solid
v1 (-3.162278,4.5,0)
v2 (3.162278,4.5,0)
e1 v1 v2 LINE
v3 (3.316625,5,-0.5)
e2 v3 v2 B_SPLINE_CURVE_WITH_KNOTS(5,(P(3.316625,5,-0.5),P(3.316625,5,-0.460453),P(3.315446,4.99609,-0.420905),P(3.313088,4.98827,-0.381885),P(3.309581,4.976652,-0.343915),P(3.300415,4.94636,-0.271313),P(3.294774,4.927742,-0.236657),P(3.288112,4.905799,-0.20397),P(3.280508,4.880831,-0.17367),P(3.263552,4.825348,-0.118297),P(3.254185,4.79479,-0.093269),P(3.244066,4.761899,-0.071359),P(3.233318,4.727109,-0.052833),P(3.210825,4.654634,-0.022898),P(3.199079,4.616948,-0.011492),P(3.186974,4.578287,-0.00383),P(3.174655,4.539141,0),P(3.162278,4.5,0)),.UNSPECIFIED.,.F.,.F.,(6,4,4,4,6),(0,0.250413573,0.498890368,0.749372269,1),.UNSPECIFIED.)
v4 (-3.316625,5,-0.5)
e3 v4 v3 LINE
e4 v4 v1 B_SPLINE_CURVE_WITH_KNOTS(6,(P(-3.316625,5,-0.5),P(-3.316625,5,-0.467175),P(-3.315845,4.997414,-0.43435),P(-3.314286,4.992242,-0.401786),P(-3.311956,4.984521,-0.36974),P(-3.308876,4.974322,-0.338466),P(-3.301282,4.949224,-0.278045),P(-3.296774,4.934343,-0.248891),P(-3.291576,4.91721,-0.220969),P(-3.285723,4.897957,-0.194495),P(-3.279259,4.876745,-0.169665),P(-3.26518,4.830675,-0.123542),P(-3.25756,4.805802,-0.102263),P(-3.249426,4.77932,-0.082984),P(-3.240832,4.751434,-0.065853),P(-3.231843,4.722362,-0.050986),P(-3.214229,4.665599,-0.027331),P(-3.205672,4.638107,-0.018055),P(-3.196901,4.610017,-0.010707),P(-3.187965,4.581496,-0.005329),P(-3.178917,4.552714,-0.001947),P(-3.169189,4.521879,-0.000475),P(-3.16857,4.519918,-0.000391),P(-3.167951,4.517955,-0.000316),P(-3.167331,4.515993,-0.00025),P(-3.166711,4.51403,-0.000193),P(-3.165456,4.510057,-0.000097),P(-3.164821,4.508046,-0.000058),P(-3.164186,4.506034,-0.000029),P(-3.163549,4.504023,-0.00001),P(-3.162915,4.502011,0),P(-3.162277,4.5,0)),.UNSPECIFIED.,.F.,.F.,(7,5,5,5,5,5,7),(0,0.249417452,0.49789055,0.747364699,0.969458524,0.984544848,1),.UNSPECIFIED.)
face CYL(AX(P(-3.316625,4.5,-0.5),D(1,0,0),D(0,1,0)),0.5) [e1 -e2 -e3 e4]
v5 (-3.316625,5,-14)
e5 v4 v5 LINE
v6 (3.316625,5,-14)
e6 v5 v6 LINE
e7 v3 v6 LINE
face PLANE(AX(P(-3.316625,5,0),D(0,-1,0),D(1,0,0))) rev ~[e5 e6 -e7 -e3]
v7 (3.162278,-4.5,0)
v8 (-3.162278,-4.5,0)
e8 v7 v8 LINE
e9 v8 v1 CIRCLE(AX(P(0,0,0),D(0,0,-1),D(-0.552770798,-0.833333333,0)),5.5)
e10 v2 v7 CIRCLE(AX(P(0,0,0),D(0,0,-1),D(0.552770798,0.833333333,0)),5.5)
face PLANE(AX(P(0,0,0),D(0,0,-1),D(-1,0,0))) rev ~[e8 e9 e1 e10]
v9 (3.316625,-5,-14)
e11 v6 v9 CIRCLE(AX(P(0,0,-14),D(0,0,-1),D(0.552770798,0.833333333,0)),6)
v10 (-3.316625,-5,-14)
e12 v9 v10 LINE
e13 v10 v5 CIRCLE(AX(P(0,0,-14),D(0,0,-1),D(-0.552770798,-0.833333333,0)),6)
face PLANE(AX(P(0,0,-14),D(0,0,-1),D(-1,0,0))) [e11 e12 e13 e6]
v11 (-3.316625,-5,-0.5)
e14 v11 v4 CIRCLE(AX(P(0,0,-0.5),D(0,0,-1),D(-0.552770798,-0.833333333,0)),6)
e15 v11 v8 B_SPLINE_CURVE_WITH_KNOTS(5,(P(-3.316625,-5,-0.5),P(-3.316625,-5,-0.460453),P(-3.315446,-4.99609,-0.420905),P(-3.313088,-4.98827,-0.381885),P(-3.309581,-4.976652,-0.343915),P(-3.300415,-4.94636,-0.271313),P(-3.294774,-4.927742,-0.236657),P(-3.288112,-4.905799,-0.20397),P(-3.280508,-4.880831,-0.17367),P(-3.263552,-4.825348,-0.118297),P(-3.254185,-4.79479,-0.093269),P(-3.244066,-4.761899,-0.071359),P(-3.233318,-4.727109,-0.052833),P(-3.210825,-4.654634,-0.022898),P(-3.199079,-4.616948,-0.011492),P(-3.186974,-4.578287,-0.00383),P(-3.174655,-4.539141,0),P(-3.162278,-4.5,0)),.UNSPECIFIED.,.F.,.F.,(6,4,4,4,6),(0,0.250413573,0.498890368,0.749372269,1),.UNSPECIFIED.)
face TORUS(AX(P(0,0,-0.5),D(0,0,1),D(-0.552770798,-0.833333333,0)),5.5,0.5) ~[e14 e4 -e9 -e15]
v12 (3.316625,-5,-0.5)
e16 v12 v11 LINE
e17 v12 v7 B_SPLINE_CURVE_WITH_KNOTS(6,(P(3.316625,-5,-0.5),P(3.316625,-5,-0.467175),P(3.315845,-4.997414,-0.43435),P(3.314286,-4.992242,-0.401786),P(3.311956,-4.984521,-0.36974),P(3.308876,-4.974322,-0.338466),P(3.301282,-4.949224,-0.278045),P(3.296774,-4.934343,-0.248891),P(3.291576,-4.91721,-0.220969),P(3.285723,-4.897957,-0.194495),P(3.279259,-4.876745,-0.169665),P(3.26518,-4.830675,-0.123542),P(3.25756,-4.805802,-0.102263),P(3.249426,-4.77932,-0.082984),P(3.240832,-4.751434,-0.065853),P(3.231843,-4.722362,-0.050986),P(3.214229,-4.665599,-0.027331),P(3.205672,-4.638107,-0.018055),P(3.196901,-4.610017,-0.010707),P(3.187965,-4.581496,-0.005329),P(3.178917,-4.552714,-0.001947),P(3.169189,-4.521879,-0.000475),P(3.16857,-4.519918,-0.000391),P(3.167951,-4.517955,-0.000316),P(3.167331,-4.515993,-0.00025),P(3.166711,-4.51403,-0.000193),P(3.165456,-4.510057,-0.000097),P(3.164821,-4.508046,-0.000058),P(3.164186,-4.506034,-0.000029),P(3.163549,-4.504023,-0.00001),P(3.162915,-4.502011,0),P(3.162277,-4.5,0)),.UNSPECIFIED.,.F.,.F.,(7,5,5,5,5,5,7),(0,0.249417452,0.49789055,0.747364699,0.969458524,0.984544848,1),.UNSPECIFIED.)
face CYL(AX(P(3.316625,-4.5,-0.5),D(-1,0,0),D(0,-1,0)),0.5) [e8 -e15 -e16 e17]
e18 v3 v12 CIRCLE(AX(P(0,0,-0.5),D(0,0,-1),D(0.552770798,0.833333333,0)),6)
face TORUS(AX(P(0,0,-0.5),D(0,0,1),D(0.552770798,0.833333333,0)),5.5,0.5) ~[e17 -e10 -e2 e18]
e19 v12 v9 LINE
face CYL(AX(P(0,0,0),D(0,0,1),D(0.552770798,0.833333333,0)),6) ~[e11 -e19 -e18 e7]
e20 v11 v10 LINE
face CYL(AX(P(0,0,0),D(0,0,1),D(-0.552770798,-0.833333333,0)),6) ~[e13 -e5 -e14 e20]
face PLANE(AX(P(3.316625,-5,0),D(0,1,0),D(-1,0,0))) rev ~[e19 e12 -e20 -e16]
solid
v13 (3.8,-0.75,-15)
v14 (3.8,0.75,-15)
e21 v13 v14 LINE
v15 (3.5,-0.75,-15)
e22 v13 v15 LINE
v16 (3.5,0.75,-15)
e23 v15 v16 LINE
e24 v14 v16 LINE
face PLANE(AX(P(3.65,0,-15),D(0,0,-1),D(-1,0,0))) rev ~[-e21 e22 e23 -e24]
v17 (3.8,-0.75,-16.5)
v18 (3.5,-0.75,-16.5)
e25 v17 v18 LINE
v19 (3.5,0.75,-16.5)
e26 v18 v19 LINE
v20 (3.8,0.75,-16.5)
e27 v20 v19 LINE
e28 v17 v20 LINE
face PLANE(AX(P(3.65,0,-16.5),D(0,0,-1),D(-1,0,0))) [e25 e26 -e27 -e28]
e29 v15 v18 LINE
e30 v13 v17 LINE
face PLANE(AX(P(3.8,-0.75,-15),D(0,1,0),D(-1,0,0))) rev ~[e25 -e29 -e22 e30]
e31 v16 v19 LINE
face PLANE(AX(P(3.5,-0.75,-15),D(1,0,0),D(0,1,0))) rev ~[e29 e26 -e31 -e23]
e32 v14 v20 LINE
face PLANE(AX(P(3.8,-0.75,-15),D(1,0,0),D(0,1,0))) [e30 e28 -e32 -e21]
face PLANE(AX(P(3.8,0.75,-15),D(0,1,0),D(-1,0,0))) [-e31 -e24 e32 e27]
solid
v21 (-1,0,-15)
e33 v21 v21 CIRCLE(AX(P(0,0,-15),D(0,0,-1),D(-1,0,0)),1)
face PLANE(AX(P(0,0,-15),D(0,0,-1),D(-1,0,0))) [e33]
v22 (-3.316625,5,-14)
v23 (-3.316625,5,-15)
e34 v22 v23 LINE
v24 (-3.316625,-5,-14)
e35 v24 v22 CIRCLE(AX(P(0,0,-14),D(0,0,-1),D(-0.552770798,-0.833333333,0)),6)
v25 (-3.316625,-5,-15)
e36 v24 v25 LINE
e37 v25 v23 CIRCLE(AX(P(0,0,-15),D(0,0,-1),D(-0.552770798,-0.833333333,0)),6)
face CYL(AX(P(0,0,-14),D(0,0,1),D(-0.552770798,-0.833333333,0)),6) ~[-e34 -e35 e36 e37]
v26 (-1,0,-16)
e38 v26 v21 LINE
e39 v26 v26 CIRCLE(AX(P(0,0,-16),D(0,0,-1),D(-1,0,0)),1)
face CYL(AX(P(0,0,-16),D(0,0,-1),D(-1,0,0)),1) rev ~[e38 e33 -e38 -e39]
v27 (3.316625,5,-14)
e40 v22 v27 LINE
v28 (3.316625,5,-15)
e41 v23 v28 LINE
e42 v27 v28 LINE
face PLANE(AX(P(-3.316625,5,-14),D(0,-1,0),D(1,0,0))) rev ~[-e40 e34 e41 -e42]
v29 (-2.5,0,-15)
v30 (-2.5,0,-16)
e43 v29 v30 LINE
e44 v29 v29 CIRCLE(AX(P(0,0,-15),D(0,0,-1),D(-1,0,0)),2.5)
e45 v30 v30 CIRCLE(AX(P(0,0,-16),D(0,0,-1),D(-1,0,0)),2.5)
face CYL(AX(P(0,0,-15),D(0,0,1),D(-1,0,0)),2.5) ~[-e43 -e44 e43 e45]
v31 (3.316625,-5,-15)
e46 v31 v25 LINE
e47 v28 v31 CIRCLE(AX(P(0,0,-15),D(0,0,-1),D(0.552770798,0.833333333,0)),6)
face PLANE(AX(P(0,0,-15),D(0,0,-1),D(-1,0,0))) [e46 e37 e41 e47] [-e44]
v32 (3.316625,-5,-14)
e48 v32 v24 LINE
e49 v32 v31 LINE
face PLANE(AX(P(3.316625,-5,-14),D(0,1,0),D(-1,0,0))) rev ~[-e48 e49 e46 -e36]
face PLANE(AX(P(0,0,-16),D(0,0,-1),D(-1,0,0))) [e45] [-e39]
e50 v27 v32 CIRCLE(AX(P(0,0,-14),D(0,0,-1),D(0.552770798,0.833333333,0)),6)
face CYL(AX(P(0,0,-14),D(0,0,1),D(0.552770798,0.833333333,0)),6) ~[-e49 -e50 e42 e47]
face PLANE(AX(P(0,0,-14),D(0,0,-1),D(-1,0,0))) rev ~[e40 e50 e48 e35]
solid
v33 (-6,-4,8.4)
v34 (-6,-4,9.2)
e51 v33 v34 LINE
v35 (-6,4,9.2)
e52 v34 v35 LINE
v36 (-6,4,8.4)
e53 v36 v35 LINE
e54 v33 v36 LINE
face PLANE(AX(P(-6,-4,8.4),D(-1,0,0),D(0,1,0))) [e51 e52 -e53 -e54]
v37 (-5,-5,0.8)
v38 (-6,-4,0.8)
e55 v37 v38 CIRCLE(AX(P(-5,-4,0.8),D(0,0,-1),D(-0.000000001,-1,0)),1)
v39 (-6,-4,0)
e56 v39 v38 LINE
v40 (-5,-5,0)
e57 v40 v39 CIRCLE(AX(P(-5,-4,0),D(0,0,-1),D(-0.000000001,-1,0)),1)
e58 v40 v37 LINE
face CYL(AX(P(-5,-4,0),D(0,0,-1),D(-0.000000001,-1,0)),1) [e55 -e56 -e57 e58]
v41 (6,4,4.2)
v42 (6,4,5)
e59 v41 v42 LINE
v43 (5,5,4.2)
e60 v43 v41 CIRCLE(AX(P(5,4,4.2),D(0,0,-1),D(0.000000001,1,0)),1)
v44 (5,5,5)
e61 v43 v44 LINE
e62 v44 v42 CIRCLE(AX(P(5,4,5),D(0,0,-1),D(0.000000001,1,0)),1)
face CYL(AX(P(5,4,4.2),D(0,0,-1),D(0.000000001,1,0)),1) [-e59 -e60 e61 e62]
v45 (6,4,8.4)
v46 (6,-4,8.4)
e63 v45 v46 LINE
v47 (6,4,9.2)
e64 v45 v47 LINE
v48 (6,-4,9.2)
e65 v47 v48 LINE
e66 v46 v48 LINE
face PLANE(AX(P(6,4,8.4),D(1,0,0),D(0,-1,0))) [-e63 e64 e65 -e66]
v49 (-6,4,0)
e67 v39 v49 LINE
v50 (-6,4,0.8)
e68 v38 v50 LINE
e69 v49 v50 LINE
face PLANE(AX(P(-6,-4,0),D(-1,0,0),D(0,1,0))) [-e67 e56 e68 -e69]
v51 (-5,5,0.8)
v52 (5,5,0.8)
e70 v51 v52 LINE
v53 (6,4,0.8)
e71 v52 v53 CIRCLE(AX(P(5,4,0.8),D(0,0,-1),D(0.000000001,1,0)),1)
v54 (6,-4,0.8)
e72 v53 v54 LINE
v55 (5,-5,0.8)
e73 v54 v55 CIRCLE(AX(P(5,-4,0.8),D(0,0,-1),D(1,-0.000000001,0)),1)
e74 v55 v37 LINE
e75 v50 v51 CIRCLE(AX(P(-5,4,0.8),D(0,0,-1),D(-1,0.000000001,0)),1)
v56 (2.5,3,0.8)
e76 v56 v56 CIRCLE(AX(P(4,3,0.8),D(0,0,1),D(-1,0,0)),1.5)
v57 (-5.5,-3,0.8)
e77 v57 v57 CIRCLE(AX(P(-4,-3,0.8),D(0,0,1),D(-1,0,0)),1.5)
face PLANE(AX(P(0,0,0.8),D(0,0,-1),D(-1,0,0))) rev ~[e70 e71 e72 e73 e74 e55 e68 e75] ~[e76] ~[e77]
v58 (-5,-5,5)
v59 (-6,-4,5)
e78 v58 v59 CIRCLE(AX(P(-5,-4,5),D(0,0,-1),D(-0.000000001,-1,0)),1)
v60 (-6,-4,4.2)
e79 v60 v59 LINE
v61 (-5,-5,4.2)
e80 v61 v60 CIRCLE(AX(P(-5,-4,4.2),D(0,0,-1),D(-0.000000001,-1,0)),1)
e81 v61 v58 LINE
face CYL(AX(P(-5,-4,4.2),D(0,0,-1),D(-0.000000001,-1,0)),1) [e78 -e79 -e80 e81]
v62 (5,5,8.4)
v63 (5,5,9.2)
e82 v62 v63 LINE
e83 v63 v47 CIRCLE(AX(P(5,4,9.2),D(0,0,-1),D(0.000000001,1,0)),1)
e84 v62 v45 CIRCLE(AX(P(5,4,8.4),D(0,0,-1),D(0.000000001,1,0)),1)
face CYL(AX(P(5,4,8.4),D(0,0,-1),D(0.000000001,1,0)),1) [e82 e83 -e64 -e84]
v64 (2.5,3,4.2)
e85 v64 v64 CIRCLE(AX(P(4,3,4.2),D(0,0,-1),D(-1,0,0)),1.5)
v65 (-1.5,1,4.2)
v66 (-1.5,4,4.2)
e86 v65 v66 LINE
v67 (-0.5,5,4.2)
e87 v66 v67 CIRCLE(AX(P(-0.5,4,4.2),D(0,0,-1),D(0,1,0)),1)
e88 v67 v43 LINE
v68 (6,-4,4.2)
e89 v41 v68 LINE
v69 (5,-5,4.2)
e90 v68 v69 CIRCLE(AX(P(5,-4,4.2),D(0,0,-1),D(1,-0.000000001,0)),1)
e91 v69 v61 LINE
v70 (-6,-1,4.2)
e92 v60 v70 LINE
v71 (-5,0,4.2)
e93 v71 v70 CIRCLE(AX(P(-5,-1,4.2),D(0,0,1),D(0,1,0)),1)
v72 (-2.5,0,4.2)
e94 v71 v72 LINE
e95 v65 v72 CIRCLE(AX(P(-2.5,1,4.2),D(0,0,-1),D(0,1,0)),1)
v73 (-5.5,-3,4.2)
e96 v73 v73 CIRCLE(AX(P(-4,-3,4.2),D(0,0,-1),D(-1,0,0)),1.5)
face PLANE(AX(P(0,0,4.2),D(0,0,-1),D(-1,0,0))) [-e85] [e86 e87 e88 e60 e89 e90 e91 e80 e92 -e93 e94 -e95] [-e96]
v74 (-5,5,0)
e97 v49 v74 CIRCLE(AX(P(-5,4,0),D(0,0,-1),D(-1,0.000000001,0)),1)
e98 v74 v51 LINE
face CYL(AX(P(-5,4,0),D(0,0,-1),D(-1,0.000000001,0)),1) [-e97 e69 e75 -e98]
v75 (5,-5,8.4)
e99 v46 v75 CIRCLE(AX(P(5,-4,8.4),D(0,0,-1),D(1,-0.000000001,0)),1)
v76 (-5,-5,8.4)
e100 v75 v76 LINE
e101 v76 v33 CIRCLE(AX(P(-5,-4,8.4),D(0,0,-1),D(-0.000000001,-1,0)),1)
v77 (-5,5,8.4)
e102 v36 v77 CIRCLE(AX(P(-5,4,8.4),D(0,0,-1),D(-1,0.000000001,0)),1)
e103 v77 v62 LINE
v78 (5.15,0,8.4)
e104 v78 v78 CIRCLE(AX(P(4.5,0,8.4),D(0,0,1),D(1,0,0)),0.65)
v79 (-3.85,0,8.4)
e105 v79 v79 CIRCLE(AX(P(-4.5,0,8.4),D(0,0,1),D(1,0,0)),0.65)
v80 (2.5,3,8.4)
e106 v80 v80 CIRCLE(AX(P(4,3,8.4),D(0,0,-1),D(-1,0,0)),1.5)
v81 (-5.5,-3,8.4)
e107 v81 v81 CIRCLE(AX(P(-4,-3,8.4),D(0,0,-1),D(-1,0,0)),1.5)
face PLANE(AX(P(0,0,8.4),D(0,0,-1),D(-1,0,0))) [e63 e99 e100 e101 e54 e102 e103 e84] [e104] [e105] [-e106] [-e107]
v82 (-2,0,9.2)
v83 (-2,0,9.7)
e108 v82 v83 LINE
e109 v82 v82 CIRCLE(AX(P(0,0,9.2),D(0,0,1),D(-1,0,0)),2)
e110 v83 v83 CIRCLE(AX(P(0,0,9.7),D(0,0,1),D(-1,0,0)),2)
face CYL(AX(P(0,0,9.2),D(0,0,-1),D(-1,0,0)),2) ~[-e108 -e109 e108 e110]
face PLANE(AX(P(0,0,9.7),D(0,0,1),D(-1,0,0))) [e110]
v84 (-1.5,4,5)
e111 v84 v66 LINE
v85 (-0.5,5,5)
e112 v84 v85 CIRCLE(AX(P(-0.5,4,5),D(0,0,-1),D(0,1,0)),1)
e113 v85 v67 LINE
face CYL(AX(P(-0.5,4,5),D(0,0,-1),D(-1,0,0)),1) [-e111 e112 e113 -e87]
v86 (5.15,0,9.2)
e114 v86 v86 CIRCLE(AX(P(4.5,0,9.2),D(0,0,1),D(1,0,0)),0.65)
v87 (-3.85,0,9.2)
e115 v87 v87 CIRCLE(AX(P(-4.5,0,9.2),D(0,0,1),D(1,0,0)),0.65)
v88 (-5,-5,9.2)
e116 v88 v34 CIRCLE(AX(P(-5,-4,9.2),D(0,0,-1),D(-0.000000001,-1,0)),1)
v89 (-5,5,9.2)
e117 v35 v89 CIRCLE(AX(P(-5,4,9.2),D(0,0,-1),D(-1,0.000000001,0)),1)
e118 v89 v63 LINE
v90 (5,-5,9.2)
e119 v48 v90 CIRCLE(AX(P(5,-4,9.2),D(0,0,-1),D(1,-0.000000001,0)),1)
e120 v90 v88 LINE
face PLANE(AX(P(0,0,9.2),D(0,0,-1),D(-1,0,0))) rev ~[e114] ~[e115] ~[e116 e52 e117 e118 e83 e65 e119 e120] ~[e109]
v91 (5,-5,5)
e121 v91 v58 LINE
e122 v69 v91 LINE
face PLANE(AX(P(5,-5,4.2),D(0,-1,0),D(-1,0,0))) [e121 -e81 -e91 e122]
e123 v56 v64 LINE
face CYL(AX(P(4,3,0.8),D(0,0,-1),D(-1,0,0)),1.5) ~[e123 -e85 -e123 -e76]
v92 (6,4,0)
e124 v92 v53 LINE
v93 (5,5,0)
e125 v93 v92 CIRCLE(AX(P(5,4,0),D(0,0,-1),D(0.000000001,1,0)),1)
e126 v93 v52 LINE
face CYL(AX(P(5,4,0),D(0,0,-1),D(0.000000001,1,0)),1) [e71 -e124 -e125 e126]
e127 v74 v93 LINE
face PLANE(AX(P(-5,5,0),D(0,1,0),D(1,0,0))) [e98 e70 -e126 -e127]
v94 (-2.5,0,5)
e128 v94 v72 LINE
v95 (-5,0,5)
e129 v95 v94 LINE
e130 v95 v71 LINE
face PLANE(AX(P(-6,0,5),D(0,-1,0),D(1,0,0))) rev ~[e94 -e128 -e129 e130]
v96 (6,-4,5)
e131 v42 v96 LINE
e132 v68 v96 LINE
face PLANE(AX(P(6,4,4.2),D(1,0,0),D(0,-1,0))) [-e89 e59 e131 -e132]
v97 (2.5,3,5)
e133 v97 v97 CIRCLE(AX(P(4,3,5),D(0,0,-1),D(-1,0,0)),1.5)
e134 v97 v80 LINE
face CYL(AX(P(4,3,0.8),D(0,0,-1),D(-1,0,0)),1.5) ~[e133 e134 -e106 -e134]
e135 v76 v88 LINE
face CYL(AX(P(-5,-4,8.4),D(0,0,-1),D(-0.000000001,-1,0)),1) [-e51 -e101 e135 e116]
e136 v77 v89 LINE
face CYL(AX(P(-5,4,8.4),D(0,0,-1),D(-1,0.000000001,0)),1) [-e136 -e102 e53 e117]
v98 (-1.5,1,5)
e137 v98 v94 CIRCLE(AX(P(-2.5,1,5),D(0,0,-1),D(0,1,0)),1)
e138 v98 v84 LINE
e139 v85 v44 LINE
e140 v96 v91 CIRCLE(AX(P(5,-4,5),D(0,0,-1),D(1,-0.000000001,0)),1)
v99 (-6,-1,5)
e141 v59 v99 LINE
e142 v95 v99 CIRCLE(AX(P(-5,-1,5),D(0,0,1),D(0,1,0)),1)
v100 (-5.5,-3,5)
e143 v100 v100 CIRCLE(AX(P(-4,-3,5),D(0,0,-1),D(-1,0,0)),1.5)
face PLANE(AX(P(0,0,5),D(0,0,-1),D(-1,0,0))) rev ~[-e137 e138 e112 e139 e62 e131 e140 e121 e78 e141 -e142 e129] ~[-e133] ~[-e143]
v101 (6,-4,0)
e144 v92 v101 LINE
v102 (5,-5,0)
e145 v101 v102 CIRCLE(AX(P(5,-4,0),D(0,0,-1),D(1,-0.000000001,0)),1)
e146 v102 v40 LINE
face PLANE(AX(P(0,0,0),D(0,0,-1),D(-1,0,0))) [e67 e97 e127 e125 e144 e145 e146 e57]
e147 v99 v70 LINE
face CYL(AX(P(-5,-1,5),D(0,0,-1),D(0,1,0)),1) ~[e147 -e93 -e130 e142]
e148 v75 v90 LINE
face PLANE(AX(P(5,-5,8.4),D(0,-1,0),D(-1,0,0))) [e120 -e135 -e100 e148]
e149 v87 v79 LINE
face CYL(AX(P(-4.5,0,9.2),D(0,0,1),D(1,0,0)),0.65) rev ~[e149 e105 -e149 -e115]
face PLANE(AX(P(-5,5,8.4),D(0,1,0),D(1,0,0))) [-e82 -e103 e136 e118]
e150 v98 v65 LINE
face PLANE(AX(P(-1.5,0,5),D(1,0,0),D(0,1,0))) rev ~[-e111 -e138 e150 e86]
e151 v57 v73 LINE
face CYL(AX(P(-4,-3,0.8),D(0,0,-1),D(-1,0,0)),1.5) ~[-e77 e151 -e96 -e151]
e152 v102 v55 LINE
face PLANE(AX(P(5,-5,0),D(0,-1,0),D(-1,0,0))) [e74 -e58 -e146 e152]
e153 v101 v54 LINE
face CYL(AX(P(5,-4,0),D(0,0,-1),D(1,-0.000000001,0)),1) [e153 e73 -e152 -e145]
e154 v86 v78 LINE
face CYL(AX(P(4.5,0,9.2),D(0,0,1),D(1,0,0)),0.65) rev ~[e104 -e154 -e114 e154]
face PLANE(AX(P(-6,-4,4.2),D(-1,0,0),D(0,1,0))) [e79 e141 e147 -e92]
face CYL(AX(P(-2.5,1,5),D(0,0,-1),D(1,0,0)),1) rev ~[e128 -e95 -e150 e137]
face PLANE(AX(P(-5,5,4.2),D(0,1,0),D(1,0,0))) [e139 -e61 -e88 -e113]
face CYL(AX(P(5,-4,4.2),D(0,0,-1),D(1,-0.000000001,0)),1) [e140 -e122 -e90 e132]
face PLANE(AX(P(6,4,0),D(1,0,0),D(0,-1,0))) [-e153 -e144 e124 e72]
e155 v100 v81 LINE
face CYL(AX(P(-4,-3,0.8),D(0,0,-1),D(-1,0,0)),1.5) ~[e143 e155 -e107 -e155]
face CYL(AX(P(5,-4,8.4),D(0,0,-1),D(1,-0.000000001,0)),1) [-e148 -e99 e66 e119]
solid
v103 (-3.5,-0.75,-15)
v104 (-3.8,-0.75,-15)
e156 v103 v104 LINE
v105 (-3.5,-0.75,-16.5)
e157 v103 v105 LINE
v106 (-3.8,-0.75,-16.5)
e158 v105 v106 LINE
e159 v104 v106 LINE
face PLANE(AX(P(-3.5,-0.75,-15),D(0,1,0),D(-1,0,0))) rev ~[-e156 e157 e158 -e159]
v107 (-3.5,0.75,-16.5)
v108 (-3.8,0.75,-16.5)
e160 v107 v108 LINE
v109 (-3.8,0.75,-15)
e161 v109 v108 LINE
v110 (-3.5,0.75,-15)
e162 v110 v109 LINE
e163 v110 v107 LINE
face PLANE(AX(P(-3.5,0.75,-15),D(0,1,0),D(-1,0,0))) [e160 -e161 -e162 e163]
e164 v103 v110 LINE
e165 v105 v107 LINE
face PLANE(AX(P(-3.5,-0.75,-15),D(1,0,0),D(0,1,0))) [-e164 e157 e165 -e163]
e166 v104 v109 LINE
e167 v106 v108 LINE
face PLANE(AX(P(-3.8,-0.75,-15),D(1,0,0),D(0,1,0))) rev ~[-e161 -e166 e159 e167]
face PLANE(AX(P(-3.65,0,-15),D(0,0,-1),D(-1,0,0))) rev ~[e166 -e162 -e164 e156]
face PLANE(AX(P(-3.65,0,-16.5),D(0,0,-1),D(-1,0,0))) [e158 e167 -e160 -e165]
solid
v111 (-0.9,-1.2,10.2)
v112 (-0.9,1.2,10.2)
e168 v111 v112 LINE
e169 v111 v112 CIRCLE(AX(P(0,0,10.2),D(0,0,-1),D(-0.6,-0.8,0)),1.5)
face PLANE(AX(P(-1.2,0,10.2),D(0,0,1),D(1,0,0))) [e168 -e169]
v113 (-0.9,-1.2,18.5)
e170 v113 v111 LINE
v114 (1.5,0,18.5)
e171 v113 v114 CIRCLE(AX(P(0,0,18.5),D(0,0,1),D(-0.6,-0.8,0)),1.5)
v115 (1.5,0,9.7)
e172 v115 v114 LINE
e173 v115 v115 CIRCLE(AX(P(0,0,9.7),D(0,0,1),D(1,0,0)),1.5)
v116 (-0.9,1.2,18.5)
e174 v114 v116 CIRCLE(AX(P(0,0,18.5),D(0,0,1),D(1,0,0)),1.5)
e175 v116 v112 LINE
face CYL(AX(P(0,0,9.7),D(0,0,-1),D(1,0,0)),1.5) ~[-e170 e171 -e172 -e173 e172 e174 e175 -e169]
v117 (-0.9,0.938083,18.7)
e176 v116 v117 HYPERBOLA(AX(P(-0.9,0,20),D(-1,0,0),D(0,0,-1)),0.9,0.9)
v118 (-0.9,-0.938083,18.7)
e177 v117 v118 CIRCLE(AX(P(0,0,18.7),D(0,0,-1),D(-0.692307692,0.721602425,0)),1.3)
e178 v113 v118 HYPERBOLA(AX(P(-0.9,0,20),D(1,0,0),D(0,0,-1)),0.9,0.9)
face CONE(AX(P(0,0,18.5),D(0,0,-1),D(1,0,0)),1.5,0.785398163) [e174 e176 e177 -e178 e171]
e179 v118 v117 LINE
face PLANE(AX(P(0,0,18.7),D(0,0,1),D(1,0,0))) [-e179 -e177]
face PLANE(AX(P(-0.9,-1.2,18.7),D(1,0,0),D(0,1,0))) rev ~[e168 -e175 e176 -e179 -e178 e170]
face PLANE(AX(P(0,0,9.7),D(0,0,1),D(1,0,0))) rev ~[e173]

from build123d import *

# Parameters (mm, degrees)
BOSS_EXTRUDE1_DEPTH   = 14
BOSS_EXTRUDE2_DEPTH   = 1
SKETCH3_R             = 2.5
BOSS_EXTRUDE3_DEPTH   = 1
FILLET1_R             = 0.5
SKETCH4_W             = 0.3
SKETCH4_H             = 1.5
BOSS_EXTRUDE4_DEPTH   = 1.5
BOSS_EXTRUDE4_2_DEPTH = 1.5
SKETCH5_R             = 1
CUT_EXTRUDE1_DEPTH    = 1
BOSS_EXTRUDE5_DEPTH   = 0.8
LPATTERN1_COUNT       = 2
LPATTERN1_PITCH       = 4.2
LPATTERN2_COUNT       = 2
LPATTERN2_PITCH       = 8.4
BOSS_EXTRUDE6_REACH   = 20.981
SKETCH7_R             = 1.5
SKETCH8_R             = 2
BOSS_EXTRUDE7_DEPTH   = 0.5
SKETCH9_R             = 1.5
BOSS_EXTRUDE8_DEPTH   = 9
SKETCH10_W            = 0.6
SKETCH10_H            = 2.4
CUT_EXTRUDE2_DEPTH    = 8.5
CHAMFER1_SIZE         = 0.2
SKETCH11_R            = 0.65
CUT_EXTRUDE3_DEPTH    = 0.8
SKETCH12_W            = 4.5
SKETCH12_H            = 5
CUT_EXTRUDE4_DEPTH    = 0.8
FILLET2_R             = 1


with BuildPart() as part:
    # Sketch1 → Boss-Extrude1 (new body)
    with BuildSketch(Plane.XY):
        with BuildLine():
            Line((-3.31662479, 5), (3.31662479, 5))
            ThreePointArc((3.31662479, 5), (6, 0), (3.31662479, -5))
            Line((3.31662479, -5), (-3.31662479, -5))
            ThreePointArc((-3.31662479, -5), (-6, 0), (-3.31662479, 5))
        make_face()
    extrude(amount=-BOSS_EXTRUDE1_DEPTH)

    # Fillet1
    fillet1_edges = [part.edges().sort_by_distance(p)[0] for p in [
        (0, 5, 0),
        (6, 0, 0),
        (0, -5, 0),
        (-6, 0, 0),
    ]]
    fillet(fillet1_edges, radius=FILLET1_R)


with BuildPart() as body_2:
    # Sketch2 → Boss-Extrude2 (new body)
    with BuildSketch(Plane(origin=(0, 0, -14), x_dir=(-1, 0, 0), z_dir=(0, 0, -1))):
        with BuildLine():
            Line((3.31662479, 5), (-3.31662479, 5))
            ThreePointArc((-3.31662479, 5), (-6, 0), (-3.31662479, -5))
            Line((-3.31662479, -5), (3.31662479, -5))
            ThreePointArc((3.31662479, -5), (6, 0), (3.31662479, 5))
        make_face()
    extrude(amount=BOSS_EXTRUDE2_DEPTH)

    # Sketch3 → Boss-Extrude3 (add)
    with BuildSketch(Plane(origin=(0, 0, -15), x_dir=(-1, 0, 0), z_dir=(0, 0, -1))):
        Circle(SKETCH3_R)
    extrude(amount=BOSS_EXTRUDE3_DEPTH)

    # Sketch5 → Cut-Extrude1 (cut)
    with BuildSketch(Plane(origin=(0, 0, -16), x_dir=(-1, 0, 0), z_dir=(0, 0, -1))):
        Circle(SKETCH5_R)
    extrude(amount=-CUT_EXTRUDE1_DEPTH, mode=Mode.SUBTRACT)


with BuildPart() as body_3:
    # Sketch4 → Boss-Extrude4 (new body)
    with BuildSketch(Plane(origin=(0, 0, -15), x_dir=(-1, 0, 0), z_dir=(0, 0, -1))):
        with Locations((-3.65, 0)):
            Rectangle(SKETCH4_W, SKETCH4_H)
    extrude(amount=BOSS_EXTRUDE4_DEPTH)


with BuildPart() as body_4:
    # Sketch4 → Boss-Extrude4 2 (new body)
    with BuildSketch(Plane(origin=(0, 0, -15), x_dir=(-1, 0, 0), z_dir=(0, 0, -1))):
        with Locations((3.65, 0)):
            Rectangle(SKETCH4_W, SKETCH4_H)
    extrude(amount=BOSS_EXTRUDE4_2_DEPTH)


with BuildPart() as body_5:
    # Sketch6 → Boss-Extrude5 (new body)
    with BuildSketch(Plane.XY):
        with BuildLine():
            Line((-5, 5), (5, 5))
            ThreePointArc((5, 5), (5.707106781, 4.707106781), (6, 4))
            Line((6, 4), (6, -4))
            ThreePointArc((6, -4), (5.707106781, -4.707106781), (5, -5))
            Line((5, -5), (-5, -5))
            ThreePointArc((-5, -5), (-5.707106781, -4.707106781), (-6, -4))
            Line((-6, -4), (-6, 4))
            ThreePointArc((-6, 4), (-5.707106781, 4.707106781), (-5, 5))
        make_face()
    boss_extrude5 = extrude(amount=BOSS_EXTRUDE5_DEPTH)


with BuildPart() as lpattern1_1:
    # LPattern1: Boss-Extrude5 ×2
    with Locations(*[(0, 0, i * LPATTERN1_PITCH) for i in range(1, LPATTERN1_COUNT)]):
        add(boss_extrude5)


with BuildPart() as lpattern2_1:
    # LPattern2: Boss-Extrude5 ×2
    with Locations(*[(0, 0, i * LPATTERN2_PITCH) for i in range(1, LPATTERN2_COUNT)]):
        add(boss_extrude5)

    # Boss-Extrude6: up to this face of the body (flat: up to its plane)
    boss_extrude6_end = Plane(lpattern2_1.part.faces().sort_by_distance((0, 0, 9.2))[0])
    # Sketch7 → Boss-Extrude6 (add, up to the picked face)
    with BuildSketch(Plane.XY.offset(0.8), mode=Mode.PRIVATE) as boss_extrude6_sk1:
        with Locations(Location((4, 3, 0), (0, 0, 180))):
            Circle(SKETCH7_R)
    boss_extrude6_tool1 = split(extrude(boss_extrude6_sk1.sketch, amount=BOSS_EXTRUDE6_REACH, mode=Mode.PRIVATE), bisect_by=boss_extrude6_end, keep=Keep.BOTH, mode=Mode.PRIVATE)
    # Sketch7 → Boss-Extrude6 (add, up to the picked face)
    with BuildSketch(Plane.XY.offset(0.8), mode=Mode.PRIVATE) as boss_extrude6_sk2:
        with Locations(Location((-4, -3, 0), (0, 0, 180))):
            Circle(SKETCH7_R)
    boss_extrude6_tool2 = split(extrude(boss_extrude6_sk2.sketch, amount=BOSS_EXTRUDE6_REACH, mode=Mode.PRIVATE), bisect_by=boss_extrude6_end, keep=Keep.BOTH, mode=Mode.PRIVATE)

    add(body_5.part)  # Boss-Extrude6 merges body 5

    add(lpattern1_1.part)  # Boss-Extrude6 merges LPattern1_1
    add(boss_extrude6_tool1.solids().sort_by(Axis((4, 3, 0.8), (0, 0, 1)))[0])
    add(boss_extrude6_tool2.solids().sort_by(Axis((-4, -3, 0.8), (0, 0, 1)))[0])

    # Sketch8 → Boss-Extrude7 (add)
    with BuildSketch(Plane.XY.offset(9.2)):
        with Locations(Location((0, 0, 0), (0, 0, 180))):
            Circle(SKETCH8_R)
    extrude(amount=BOSS_EXTRUDE7_DEPTH)

    # Sketch11 → Cut-Extrude3 (cut)
    with BuildSketch(Plane.XY.offset(9.2)):
        with Locations((-4.5, 0)):
            Circle(SKETCH11_R)
        with Locations((4.5, 0)):
            Circle(SKETCH11_R)
    extrude(amount=-CUT_EXTRUDE3_DEPTH, mode=Mode.SUBTRACT)

    # Sketch12 → Cut-Extrude4 (cut)
    with BuildSketch(Plane.XY.offset(5)):
        with Locations((-3.75, 2.5)):
            Rectangle(SKETCH12_W, SKETCH12_H)
    extrude(amount=-CUT_EXTRUDE4_DEPTH, mode=Mode.SUBTRACT)

    # Fillet2
    fillet2_edges = [lpattern2_1.edges().sort_by_distance(p)[0] for p in [
        (-1.5, 0, 4.6),
        (-1.5, 5, 4.6),
        (-6, 0, 4.6),
    ]]
    fillet(fillet2_edges, radius=FILLET2_R)


with BuildPart() as body_6:
    # Sketch9 → Boss-Extrude8 (new body)
    with BuildSketch(Plane.XY.offset(9.7)):
        Circle(SKETCH9_R)
    extrude(amount=BOSS_EXTRUDE8_DEPTH)

    # Sketch10 → Cut-Extrude2 (cut)
    with BuildSketch(Plane.XY.offset(18.7)):
        with Locations((-1.2, 0)):
            Rectangle(SKETCH10_W, SKETCH10_H)
    extrude(amount=-CUT_EXTRUDE2_DEPTH, mode=Mode.SUBTRACT)

    # Chamfer1
    chamfer1_edges = [body_6.edges().sort_by_distance(p)[0] for p in [
        (0.670820393, 1.341640786, 18.7),
    ]]
    chamfer(chamfer1_edges, length=CHAMFER1_SIZE)


solid = Compound([part.part, body_2.part, body_3.part, body_4.part, lpattern2_1.part, body_6.part])
